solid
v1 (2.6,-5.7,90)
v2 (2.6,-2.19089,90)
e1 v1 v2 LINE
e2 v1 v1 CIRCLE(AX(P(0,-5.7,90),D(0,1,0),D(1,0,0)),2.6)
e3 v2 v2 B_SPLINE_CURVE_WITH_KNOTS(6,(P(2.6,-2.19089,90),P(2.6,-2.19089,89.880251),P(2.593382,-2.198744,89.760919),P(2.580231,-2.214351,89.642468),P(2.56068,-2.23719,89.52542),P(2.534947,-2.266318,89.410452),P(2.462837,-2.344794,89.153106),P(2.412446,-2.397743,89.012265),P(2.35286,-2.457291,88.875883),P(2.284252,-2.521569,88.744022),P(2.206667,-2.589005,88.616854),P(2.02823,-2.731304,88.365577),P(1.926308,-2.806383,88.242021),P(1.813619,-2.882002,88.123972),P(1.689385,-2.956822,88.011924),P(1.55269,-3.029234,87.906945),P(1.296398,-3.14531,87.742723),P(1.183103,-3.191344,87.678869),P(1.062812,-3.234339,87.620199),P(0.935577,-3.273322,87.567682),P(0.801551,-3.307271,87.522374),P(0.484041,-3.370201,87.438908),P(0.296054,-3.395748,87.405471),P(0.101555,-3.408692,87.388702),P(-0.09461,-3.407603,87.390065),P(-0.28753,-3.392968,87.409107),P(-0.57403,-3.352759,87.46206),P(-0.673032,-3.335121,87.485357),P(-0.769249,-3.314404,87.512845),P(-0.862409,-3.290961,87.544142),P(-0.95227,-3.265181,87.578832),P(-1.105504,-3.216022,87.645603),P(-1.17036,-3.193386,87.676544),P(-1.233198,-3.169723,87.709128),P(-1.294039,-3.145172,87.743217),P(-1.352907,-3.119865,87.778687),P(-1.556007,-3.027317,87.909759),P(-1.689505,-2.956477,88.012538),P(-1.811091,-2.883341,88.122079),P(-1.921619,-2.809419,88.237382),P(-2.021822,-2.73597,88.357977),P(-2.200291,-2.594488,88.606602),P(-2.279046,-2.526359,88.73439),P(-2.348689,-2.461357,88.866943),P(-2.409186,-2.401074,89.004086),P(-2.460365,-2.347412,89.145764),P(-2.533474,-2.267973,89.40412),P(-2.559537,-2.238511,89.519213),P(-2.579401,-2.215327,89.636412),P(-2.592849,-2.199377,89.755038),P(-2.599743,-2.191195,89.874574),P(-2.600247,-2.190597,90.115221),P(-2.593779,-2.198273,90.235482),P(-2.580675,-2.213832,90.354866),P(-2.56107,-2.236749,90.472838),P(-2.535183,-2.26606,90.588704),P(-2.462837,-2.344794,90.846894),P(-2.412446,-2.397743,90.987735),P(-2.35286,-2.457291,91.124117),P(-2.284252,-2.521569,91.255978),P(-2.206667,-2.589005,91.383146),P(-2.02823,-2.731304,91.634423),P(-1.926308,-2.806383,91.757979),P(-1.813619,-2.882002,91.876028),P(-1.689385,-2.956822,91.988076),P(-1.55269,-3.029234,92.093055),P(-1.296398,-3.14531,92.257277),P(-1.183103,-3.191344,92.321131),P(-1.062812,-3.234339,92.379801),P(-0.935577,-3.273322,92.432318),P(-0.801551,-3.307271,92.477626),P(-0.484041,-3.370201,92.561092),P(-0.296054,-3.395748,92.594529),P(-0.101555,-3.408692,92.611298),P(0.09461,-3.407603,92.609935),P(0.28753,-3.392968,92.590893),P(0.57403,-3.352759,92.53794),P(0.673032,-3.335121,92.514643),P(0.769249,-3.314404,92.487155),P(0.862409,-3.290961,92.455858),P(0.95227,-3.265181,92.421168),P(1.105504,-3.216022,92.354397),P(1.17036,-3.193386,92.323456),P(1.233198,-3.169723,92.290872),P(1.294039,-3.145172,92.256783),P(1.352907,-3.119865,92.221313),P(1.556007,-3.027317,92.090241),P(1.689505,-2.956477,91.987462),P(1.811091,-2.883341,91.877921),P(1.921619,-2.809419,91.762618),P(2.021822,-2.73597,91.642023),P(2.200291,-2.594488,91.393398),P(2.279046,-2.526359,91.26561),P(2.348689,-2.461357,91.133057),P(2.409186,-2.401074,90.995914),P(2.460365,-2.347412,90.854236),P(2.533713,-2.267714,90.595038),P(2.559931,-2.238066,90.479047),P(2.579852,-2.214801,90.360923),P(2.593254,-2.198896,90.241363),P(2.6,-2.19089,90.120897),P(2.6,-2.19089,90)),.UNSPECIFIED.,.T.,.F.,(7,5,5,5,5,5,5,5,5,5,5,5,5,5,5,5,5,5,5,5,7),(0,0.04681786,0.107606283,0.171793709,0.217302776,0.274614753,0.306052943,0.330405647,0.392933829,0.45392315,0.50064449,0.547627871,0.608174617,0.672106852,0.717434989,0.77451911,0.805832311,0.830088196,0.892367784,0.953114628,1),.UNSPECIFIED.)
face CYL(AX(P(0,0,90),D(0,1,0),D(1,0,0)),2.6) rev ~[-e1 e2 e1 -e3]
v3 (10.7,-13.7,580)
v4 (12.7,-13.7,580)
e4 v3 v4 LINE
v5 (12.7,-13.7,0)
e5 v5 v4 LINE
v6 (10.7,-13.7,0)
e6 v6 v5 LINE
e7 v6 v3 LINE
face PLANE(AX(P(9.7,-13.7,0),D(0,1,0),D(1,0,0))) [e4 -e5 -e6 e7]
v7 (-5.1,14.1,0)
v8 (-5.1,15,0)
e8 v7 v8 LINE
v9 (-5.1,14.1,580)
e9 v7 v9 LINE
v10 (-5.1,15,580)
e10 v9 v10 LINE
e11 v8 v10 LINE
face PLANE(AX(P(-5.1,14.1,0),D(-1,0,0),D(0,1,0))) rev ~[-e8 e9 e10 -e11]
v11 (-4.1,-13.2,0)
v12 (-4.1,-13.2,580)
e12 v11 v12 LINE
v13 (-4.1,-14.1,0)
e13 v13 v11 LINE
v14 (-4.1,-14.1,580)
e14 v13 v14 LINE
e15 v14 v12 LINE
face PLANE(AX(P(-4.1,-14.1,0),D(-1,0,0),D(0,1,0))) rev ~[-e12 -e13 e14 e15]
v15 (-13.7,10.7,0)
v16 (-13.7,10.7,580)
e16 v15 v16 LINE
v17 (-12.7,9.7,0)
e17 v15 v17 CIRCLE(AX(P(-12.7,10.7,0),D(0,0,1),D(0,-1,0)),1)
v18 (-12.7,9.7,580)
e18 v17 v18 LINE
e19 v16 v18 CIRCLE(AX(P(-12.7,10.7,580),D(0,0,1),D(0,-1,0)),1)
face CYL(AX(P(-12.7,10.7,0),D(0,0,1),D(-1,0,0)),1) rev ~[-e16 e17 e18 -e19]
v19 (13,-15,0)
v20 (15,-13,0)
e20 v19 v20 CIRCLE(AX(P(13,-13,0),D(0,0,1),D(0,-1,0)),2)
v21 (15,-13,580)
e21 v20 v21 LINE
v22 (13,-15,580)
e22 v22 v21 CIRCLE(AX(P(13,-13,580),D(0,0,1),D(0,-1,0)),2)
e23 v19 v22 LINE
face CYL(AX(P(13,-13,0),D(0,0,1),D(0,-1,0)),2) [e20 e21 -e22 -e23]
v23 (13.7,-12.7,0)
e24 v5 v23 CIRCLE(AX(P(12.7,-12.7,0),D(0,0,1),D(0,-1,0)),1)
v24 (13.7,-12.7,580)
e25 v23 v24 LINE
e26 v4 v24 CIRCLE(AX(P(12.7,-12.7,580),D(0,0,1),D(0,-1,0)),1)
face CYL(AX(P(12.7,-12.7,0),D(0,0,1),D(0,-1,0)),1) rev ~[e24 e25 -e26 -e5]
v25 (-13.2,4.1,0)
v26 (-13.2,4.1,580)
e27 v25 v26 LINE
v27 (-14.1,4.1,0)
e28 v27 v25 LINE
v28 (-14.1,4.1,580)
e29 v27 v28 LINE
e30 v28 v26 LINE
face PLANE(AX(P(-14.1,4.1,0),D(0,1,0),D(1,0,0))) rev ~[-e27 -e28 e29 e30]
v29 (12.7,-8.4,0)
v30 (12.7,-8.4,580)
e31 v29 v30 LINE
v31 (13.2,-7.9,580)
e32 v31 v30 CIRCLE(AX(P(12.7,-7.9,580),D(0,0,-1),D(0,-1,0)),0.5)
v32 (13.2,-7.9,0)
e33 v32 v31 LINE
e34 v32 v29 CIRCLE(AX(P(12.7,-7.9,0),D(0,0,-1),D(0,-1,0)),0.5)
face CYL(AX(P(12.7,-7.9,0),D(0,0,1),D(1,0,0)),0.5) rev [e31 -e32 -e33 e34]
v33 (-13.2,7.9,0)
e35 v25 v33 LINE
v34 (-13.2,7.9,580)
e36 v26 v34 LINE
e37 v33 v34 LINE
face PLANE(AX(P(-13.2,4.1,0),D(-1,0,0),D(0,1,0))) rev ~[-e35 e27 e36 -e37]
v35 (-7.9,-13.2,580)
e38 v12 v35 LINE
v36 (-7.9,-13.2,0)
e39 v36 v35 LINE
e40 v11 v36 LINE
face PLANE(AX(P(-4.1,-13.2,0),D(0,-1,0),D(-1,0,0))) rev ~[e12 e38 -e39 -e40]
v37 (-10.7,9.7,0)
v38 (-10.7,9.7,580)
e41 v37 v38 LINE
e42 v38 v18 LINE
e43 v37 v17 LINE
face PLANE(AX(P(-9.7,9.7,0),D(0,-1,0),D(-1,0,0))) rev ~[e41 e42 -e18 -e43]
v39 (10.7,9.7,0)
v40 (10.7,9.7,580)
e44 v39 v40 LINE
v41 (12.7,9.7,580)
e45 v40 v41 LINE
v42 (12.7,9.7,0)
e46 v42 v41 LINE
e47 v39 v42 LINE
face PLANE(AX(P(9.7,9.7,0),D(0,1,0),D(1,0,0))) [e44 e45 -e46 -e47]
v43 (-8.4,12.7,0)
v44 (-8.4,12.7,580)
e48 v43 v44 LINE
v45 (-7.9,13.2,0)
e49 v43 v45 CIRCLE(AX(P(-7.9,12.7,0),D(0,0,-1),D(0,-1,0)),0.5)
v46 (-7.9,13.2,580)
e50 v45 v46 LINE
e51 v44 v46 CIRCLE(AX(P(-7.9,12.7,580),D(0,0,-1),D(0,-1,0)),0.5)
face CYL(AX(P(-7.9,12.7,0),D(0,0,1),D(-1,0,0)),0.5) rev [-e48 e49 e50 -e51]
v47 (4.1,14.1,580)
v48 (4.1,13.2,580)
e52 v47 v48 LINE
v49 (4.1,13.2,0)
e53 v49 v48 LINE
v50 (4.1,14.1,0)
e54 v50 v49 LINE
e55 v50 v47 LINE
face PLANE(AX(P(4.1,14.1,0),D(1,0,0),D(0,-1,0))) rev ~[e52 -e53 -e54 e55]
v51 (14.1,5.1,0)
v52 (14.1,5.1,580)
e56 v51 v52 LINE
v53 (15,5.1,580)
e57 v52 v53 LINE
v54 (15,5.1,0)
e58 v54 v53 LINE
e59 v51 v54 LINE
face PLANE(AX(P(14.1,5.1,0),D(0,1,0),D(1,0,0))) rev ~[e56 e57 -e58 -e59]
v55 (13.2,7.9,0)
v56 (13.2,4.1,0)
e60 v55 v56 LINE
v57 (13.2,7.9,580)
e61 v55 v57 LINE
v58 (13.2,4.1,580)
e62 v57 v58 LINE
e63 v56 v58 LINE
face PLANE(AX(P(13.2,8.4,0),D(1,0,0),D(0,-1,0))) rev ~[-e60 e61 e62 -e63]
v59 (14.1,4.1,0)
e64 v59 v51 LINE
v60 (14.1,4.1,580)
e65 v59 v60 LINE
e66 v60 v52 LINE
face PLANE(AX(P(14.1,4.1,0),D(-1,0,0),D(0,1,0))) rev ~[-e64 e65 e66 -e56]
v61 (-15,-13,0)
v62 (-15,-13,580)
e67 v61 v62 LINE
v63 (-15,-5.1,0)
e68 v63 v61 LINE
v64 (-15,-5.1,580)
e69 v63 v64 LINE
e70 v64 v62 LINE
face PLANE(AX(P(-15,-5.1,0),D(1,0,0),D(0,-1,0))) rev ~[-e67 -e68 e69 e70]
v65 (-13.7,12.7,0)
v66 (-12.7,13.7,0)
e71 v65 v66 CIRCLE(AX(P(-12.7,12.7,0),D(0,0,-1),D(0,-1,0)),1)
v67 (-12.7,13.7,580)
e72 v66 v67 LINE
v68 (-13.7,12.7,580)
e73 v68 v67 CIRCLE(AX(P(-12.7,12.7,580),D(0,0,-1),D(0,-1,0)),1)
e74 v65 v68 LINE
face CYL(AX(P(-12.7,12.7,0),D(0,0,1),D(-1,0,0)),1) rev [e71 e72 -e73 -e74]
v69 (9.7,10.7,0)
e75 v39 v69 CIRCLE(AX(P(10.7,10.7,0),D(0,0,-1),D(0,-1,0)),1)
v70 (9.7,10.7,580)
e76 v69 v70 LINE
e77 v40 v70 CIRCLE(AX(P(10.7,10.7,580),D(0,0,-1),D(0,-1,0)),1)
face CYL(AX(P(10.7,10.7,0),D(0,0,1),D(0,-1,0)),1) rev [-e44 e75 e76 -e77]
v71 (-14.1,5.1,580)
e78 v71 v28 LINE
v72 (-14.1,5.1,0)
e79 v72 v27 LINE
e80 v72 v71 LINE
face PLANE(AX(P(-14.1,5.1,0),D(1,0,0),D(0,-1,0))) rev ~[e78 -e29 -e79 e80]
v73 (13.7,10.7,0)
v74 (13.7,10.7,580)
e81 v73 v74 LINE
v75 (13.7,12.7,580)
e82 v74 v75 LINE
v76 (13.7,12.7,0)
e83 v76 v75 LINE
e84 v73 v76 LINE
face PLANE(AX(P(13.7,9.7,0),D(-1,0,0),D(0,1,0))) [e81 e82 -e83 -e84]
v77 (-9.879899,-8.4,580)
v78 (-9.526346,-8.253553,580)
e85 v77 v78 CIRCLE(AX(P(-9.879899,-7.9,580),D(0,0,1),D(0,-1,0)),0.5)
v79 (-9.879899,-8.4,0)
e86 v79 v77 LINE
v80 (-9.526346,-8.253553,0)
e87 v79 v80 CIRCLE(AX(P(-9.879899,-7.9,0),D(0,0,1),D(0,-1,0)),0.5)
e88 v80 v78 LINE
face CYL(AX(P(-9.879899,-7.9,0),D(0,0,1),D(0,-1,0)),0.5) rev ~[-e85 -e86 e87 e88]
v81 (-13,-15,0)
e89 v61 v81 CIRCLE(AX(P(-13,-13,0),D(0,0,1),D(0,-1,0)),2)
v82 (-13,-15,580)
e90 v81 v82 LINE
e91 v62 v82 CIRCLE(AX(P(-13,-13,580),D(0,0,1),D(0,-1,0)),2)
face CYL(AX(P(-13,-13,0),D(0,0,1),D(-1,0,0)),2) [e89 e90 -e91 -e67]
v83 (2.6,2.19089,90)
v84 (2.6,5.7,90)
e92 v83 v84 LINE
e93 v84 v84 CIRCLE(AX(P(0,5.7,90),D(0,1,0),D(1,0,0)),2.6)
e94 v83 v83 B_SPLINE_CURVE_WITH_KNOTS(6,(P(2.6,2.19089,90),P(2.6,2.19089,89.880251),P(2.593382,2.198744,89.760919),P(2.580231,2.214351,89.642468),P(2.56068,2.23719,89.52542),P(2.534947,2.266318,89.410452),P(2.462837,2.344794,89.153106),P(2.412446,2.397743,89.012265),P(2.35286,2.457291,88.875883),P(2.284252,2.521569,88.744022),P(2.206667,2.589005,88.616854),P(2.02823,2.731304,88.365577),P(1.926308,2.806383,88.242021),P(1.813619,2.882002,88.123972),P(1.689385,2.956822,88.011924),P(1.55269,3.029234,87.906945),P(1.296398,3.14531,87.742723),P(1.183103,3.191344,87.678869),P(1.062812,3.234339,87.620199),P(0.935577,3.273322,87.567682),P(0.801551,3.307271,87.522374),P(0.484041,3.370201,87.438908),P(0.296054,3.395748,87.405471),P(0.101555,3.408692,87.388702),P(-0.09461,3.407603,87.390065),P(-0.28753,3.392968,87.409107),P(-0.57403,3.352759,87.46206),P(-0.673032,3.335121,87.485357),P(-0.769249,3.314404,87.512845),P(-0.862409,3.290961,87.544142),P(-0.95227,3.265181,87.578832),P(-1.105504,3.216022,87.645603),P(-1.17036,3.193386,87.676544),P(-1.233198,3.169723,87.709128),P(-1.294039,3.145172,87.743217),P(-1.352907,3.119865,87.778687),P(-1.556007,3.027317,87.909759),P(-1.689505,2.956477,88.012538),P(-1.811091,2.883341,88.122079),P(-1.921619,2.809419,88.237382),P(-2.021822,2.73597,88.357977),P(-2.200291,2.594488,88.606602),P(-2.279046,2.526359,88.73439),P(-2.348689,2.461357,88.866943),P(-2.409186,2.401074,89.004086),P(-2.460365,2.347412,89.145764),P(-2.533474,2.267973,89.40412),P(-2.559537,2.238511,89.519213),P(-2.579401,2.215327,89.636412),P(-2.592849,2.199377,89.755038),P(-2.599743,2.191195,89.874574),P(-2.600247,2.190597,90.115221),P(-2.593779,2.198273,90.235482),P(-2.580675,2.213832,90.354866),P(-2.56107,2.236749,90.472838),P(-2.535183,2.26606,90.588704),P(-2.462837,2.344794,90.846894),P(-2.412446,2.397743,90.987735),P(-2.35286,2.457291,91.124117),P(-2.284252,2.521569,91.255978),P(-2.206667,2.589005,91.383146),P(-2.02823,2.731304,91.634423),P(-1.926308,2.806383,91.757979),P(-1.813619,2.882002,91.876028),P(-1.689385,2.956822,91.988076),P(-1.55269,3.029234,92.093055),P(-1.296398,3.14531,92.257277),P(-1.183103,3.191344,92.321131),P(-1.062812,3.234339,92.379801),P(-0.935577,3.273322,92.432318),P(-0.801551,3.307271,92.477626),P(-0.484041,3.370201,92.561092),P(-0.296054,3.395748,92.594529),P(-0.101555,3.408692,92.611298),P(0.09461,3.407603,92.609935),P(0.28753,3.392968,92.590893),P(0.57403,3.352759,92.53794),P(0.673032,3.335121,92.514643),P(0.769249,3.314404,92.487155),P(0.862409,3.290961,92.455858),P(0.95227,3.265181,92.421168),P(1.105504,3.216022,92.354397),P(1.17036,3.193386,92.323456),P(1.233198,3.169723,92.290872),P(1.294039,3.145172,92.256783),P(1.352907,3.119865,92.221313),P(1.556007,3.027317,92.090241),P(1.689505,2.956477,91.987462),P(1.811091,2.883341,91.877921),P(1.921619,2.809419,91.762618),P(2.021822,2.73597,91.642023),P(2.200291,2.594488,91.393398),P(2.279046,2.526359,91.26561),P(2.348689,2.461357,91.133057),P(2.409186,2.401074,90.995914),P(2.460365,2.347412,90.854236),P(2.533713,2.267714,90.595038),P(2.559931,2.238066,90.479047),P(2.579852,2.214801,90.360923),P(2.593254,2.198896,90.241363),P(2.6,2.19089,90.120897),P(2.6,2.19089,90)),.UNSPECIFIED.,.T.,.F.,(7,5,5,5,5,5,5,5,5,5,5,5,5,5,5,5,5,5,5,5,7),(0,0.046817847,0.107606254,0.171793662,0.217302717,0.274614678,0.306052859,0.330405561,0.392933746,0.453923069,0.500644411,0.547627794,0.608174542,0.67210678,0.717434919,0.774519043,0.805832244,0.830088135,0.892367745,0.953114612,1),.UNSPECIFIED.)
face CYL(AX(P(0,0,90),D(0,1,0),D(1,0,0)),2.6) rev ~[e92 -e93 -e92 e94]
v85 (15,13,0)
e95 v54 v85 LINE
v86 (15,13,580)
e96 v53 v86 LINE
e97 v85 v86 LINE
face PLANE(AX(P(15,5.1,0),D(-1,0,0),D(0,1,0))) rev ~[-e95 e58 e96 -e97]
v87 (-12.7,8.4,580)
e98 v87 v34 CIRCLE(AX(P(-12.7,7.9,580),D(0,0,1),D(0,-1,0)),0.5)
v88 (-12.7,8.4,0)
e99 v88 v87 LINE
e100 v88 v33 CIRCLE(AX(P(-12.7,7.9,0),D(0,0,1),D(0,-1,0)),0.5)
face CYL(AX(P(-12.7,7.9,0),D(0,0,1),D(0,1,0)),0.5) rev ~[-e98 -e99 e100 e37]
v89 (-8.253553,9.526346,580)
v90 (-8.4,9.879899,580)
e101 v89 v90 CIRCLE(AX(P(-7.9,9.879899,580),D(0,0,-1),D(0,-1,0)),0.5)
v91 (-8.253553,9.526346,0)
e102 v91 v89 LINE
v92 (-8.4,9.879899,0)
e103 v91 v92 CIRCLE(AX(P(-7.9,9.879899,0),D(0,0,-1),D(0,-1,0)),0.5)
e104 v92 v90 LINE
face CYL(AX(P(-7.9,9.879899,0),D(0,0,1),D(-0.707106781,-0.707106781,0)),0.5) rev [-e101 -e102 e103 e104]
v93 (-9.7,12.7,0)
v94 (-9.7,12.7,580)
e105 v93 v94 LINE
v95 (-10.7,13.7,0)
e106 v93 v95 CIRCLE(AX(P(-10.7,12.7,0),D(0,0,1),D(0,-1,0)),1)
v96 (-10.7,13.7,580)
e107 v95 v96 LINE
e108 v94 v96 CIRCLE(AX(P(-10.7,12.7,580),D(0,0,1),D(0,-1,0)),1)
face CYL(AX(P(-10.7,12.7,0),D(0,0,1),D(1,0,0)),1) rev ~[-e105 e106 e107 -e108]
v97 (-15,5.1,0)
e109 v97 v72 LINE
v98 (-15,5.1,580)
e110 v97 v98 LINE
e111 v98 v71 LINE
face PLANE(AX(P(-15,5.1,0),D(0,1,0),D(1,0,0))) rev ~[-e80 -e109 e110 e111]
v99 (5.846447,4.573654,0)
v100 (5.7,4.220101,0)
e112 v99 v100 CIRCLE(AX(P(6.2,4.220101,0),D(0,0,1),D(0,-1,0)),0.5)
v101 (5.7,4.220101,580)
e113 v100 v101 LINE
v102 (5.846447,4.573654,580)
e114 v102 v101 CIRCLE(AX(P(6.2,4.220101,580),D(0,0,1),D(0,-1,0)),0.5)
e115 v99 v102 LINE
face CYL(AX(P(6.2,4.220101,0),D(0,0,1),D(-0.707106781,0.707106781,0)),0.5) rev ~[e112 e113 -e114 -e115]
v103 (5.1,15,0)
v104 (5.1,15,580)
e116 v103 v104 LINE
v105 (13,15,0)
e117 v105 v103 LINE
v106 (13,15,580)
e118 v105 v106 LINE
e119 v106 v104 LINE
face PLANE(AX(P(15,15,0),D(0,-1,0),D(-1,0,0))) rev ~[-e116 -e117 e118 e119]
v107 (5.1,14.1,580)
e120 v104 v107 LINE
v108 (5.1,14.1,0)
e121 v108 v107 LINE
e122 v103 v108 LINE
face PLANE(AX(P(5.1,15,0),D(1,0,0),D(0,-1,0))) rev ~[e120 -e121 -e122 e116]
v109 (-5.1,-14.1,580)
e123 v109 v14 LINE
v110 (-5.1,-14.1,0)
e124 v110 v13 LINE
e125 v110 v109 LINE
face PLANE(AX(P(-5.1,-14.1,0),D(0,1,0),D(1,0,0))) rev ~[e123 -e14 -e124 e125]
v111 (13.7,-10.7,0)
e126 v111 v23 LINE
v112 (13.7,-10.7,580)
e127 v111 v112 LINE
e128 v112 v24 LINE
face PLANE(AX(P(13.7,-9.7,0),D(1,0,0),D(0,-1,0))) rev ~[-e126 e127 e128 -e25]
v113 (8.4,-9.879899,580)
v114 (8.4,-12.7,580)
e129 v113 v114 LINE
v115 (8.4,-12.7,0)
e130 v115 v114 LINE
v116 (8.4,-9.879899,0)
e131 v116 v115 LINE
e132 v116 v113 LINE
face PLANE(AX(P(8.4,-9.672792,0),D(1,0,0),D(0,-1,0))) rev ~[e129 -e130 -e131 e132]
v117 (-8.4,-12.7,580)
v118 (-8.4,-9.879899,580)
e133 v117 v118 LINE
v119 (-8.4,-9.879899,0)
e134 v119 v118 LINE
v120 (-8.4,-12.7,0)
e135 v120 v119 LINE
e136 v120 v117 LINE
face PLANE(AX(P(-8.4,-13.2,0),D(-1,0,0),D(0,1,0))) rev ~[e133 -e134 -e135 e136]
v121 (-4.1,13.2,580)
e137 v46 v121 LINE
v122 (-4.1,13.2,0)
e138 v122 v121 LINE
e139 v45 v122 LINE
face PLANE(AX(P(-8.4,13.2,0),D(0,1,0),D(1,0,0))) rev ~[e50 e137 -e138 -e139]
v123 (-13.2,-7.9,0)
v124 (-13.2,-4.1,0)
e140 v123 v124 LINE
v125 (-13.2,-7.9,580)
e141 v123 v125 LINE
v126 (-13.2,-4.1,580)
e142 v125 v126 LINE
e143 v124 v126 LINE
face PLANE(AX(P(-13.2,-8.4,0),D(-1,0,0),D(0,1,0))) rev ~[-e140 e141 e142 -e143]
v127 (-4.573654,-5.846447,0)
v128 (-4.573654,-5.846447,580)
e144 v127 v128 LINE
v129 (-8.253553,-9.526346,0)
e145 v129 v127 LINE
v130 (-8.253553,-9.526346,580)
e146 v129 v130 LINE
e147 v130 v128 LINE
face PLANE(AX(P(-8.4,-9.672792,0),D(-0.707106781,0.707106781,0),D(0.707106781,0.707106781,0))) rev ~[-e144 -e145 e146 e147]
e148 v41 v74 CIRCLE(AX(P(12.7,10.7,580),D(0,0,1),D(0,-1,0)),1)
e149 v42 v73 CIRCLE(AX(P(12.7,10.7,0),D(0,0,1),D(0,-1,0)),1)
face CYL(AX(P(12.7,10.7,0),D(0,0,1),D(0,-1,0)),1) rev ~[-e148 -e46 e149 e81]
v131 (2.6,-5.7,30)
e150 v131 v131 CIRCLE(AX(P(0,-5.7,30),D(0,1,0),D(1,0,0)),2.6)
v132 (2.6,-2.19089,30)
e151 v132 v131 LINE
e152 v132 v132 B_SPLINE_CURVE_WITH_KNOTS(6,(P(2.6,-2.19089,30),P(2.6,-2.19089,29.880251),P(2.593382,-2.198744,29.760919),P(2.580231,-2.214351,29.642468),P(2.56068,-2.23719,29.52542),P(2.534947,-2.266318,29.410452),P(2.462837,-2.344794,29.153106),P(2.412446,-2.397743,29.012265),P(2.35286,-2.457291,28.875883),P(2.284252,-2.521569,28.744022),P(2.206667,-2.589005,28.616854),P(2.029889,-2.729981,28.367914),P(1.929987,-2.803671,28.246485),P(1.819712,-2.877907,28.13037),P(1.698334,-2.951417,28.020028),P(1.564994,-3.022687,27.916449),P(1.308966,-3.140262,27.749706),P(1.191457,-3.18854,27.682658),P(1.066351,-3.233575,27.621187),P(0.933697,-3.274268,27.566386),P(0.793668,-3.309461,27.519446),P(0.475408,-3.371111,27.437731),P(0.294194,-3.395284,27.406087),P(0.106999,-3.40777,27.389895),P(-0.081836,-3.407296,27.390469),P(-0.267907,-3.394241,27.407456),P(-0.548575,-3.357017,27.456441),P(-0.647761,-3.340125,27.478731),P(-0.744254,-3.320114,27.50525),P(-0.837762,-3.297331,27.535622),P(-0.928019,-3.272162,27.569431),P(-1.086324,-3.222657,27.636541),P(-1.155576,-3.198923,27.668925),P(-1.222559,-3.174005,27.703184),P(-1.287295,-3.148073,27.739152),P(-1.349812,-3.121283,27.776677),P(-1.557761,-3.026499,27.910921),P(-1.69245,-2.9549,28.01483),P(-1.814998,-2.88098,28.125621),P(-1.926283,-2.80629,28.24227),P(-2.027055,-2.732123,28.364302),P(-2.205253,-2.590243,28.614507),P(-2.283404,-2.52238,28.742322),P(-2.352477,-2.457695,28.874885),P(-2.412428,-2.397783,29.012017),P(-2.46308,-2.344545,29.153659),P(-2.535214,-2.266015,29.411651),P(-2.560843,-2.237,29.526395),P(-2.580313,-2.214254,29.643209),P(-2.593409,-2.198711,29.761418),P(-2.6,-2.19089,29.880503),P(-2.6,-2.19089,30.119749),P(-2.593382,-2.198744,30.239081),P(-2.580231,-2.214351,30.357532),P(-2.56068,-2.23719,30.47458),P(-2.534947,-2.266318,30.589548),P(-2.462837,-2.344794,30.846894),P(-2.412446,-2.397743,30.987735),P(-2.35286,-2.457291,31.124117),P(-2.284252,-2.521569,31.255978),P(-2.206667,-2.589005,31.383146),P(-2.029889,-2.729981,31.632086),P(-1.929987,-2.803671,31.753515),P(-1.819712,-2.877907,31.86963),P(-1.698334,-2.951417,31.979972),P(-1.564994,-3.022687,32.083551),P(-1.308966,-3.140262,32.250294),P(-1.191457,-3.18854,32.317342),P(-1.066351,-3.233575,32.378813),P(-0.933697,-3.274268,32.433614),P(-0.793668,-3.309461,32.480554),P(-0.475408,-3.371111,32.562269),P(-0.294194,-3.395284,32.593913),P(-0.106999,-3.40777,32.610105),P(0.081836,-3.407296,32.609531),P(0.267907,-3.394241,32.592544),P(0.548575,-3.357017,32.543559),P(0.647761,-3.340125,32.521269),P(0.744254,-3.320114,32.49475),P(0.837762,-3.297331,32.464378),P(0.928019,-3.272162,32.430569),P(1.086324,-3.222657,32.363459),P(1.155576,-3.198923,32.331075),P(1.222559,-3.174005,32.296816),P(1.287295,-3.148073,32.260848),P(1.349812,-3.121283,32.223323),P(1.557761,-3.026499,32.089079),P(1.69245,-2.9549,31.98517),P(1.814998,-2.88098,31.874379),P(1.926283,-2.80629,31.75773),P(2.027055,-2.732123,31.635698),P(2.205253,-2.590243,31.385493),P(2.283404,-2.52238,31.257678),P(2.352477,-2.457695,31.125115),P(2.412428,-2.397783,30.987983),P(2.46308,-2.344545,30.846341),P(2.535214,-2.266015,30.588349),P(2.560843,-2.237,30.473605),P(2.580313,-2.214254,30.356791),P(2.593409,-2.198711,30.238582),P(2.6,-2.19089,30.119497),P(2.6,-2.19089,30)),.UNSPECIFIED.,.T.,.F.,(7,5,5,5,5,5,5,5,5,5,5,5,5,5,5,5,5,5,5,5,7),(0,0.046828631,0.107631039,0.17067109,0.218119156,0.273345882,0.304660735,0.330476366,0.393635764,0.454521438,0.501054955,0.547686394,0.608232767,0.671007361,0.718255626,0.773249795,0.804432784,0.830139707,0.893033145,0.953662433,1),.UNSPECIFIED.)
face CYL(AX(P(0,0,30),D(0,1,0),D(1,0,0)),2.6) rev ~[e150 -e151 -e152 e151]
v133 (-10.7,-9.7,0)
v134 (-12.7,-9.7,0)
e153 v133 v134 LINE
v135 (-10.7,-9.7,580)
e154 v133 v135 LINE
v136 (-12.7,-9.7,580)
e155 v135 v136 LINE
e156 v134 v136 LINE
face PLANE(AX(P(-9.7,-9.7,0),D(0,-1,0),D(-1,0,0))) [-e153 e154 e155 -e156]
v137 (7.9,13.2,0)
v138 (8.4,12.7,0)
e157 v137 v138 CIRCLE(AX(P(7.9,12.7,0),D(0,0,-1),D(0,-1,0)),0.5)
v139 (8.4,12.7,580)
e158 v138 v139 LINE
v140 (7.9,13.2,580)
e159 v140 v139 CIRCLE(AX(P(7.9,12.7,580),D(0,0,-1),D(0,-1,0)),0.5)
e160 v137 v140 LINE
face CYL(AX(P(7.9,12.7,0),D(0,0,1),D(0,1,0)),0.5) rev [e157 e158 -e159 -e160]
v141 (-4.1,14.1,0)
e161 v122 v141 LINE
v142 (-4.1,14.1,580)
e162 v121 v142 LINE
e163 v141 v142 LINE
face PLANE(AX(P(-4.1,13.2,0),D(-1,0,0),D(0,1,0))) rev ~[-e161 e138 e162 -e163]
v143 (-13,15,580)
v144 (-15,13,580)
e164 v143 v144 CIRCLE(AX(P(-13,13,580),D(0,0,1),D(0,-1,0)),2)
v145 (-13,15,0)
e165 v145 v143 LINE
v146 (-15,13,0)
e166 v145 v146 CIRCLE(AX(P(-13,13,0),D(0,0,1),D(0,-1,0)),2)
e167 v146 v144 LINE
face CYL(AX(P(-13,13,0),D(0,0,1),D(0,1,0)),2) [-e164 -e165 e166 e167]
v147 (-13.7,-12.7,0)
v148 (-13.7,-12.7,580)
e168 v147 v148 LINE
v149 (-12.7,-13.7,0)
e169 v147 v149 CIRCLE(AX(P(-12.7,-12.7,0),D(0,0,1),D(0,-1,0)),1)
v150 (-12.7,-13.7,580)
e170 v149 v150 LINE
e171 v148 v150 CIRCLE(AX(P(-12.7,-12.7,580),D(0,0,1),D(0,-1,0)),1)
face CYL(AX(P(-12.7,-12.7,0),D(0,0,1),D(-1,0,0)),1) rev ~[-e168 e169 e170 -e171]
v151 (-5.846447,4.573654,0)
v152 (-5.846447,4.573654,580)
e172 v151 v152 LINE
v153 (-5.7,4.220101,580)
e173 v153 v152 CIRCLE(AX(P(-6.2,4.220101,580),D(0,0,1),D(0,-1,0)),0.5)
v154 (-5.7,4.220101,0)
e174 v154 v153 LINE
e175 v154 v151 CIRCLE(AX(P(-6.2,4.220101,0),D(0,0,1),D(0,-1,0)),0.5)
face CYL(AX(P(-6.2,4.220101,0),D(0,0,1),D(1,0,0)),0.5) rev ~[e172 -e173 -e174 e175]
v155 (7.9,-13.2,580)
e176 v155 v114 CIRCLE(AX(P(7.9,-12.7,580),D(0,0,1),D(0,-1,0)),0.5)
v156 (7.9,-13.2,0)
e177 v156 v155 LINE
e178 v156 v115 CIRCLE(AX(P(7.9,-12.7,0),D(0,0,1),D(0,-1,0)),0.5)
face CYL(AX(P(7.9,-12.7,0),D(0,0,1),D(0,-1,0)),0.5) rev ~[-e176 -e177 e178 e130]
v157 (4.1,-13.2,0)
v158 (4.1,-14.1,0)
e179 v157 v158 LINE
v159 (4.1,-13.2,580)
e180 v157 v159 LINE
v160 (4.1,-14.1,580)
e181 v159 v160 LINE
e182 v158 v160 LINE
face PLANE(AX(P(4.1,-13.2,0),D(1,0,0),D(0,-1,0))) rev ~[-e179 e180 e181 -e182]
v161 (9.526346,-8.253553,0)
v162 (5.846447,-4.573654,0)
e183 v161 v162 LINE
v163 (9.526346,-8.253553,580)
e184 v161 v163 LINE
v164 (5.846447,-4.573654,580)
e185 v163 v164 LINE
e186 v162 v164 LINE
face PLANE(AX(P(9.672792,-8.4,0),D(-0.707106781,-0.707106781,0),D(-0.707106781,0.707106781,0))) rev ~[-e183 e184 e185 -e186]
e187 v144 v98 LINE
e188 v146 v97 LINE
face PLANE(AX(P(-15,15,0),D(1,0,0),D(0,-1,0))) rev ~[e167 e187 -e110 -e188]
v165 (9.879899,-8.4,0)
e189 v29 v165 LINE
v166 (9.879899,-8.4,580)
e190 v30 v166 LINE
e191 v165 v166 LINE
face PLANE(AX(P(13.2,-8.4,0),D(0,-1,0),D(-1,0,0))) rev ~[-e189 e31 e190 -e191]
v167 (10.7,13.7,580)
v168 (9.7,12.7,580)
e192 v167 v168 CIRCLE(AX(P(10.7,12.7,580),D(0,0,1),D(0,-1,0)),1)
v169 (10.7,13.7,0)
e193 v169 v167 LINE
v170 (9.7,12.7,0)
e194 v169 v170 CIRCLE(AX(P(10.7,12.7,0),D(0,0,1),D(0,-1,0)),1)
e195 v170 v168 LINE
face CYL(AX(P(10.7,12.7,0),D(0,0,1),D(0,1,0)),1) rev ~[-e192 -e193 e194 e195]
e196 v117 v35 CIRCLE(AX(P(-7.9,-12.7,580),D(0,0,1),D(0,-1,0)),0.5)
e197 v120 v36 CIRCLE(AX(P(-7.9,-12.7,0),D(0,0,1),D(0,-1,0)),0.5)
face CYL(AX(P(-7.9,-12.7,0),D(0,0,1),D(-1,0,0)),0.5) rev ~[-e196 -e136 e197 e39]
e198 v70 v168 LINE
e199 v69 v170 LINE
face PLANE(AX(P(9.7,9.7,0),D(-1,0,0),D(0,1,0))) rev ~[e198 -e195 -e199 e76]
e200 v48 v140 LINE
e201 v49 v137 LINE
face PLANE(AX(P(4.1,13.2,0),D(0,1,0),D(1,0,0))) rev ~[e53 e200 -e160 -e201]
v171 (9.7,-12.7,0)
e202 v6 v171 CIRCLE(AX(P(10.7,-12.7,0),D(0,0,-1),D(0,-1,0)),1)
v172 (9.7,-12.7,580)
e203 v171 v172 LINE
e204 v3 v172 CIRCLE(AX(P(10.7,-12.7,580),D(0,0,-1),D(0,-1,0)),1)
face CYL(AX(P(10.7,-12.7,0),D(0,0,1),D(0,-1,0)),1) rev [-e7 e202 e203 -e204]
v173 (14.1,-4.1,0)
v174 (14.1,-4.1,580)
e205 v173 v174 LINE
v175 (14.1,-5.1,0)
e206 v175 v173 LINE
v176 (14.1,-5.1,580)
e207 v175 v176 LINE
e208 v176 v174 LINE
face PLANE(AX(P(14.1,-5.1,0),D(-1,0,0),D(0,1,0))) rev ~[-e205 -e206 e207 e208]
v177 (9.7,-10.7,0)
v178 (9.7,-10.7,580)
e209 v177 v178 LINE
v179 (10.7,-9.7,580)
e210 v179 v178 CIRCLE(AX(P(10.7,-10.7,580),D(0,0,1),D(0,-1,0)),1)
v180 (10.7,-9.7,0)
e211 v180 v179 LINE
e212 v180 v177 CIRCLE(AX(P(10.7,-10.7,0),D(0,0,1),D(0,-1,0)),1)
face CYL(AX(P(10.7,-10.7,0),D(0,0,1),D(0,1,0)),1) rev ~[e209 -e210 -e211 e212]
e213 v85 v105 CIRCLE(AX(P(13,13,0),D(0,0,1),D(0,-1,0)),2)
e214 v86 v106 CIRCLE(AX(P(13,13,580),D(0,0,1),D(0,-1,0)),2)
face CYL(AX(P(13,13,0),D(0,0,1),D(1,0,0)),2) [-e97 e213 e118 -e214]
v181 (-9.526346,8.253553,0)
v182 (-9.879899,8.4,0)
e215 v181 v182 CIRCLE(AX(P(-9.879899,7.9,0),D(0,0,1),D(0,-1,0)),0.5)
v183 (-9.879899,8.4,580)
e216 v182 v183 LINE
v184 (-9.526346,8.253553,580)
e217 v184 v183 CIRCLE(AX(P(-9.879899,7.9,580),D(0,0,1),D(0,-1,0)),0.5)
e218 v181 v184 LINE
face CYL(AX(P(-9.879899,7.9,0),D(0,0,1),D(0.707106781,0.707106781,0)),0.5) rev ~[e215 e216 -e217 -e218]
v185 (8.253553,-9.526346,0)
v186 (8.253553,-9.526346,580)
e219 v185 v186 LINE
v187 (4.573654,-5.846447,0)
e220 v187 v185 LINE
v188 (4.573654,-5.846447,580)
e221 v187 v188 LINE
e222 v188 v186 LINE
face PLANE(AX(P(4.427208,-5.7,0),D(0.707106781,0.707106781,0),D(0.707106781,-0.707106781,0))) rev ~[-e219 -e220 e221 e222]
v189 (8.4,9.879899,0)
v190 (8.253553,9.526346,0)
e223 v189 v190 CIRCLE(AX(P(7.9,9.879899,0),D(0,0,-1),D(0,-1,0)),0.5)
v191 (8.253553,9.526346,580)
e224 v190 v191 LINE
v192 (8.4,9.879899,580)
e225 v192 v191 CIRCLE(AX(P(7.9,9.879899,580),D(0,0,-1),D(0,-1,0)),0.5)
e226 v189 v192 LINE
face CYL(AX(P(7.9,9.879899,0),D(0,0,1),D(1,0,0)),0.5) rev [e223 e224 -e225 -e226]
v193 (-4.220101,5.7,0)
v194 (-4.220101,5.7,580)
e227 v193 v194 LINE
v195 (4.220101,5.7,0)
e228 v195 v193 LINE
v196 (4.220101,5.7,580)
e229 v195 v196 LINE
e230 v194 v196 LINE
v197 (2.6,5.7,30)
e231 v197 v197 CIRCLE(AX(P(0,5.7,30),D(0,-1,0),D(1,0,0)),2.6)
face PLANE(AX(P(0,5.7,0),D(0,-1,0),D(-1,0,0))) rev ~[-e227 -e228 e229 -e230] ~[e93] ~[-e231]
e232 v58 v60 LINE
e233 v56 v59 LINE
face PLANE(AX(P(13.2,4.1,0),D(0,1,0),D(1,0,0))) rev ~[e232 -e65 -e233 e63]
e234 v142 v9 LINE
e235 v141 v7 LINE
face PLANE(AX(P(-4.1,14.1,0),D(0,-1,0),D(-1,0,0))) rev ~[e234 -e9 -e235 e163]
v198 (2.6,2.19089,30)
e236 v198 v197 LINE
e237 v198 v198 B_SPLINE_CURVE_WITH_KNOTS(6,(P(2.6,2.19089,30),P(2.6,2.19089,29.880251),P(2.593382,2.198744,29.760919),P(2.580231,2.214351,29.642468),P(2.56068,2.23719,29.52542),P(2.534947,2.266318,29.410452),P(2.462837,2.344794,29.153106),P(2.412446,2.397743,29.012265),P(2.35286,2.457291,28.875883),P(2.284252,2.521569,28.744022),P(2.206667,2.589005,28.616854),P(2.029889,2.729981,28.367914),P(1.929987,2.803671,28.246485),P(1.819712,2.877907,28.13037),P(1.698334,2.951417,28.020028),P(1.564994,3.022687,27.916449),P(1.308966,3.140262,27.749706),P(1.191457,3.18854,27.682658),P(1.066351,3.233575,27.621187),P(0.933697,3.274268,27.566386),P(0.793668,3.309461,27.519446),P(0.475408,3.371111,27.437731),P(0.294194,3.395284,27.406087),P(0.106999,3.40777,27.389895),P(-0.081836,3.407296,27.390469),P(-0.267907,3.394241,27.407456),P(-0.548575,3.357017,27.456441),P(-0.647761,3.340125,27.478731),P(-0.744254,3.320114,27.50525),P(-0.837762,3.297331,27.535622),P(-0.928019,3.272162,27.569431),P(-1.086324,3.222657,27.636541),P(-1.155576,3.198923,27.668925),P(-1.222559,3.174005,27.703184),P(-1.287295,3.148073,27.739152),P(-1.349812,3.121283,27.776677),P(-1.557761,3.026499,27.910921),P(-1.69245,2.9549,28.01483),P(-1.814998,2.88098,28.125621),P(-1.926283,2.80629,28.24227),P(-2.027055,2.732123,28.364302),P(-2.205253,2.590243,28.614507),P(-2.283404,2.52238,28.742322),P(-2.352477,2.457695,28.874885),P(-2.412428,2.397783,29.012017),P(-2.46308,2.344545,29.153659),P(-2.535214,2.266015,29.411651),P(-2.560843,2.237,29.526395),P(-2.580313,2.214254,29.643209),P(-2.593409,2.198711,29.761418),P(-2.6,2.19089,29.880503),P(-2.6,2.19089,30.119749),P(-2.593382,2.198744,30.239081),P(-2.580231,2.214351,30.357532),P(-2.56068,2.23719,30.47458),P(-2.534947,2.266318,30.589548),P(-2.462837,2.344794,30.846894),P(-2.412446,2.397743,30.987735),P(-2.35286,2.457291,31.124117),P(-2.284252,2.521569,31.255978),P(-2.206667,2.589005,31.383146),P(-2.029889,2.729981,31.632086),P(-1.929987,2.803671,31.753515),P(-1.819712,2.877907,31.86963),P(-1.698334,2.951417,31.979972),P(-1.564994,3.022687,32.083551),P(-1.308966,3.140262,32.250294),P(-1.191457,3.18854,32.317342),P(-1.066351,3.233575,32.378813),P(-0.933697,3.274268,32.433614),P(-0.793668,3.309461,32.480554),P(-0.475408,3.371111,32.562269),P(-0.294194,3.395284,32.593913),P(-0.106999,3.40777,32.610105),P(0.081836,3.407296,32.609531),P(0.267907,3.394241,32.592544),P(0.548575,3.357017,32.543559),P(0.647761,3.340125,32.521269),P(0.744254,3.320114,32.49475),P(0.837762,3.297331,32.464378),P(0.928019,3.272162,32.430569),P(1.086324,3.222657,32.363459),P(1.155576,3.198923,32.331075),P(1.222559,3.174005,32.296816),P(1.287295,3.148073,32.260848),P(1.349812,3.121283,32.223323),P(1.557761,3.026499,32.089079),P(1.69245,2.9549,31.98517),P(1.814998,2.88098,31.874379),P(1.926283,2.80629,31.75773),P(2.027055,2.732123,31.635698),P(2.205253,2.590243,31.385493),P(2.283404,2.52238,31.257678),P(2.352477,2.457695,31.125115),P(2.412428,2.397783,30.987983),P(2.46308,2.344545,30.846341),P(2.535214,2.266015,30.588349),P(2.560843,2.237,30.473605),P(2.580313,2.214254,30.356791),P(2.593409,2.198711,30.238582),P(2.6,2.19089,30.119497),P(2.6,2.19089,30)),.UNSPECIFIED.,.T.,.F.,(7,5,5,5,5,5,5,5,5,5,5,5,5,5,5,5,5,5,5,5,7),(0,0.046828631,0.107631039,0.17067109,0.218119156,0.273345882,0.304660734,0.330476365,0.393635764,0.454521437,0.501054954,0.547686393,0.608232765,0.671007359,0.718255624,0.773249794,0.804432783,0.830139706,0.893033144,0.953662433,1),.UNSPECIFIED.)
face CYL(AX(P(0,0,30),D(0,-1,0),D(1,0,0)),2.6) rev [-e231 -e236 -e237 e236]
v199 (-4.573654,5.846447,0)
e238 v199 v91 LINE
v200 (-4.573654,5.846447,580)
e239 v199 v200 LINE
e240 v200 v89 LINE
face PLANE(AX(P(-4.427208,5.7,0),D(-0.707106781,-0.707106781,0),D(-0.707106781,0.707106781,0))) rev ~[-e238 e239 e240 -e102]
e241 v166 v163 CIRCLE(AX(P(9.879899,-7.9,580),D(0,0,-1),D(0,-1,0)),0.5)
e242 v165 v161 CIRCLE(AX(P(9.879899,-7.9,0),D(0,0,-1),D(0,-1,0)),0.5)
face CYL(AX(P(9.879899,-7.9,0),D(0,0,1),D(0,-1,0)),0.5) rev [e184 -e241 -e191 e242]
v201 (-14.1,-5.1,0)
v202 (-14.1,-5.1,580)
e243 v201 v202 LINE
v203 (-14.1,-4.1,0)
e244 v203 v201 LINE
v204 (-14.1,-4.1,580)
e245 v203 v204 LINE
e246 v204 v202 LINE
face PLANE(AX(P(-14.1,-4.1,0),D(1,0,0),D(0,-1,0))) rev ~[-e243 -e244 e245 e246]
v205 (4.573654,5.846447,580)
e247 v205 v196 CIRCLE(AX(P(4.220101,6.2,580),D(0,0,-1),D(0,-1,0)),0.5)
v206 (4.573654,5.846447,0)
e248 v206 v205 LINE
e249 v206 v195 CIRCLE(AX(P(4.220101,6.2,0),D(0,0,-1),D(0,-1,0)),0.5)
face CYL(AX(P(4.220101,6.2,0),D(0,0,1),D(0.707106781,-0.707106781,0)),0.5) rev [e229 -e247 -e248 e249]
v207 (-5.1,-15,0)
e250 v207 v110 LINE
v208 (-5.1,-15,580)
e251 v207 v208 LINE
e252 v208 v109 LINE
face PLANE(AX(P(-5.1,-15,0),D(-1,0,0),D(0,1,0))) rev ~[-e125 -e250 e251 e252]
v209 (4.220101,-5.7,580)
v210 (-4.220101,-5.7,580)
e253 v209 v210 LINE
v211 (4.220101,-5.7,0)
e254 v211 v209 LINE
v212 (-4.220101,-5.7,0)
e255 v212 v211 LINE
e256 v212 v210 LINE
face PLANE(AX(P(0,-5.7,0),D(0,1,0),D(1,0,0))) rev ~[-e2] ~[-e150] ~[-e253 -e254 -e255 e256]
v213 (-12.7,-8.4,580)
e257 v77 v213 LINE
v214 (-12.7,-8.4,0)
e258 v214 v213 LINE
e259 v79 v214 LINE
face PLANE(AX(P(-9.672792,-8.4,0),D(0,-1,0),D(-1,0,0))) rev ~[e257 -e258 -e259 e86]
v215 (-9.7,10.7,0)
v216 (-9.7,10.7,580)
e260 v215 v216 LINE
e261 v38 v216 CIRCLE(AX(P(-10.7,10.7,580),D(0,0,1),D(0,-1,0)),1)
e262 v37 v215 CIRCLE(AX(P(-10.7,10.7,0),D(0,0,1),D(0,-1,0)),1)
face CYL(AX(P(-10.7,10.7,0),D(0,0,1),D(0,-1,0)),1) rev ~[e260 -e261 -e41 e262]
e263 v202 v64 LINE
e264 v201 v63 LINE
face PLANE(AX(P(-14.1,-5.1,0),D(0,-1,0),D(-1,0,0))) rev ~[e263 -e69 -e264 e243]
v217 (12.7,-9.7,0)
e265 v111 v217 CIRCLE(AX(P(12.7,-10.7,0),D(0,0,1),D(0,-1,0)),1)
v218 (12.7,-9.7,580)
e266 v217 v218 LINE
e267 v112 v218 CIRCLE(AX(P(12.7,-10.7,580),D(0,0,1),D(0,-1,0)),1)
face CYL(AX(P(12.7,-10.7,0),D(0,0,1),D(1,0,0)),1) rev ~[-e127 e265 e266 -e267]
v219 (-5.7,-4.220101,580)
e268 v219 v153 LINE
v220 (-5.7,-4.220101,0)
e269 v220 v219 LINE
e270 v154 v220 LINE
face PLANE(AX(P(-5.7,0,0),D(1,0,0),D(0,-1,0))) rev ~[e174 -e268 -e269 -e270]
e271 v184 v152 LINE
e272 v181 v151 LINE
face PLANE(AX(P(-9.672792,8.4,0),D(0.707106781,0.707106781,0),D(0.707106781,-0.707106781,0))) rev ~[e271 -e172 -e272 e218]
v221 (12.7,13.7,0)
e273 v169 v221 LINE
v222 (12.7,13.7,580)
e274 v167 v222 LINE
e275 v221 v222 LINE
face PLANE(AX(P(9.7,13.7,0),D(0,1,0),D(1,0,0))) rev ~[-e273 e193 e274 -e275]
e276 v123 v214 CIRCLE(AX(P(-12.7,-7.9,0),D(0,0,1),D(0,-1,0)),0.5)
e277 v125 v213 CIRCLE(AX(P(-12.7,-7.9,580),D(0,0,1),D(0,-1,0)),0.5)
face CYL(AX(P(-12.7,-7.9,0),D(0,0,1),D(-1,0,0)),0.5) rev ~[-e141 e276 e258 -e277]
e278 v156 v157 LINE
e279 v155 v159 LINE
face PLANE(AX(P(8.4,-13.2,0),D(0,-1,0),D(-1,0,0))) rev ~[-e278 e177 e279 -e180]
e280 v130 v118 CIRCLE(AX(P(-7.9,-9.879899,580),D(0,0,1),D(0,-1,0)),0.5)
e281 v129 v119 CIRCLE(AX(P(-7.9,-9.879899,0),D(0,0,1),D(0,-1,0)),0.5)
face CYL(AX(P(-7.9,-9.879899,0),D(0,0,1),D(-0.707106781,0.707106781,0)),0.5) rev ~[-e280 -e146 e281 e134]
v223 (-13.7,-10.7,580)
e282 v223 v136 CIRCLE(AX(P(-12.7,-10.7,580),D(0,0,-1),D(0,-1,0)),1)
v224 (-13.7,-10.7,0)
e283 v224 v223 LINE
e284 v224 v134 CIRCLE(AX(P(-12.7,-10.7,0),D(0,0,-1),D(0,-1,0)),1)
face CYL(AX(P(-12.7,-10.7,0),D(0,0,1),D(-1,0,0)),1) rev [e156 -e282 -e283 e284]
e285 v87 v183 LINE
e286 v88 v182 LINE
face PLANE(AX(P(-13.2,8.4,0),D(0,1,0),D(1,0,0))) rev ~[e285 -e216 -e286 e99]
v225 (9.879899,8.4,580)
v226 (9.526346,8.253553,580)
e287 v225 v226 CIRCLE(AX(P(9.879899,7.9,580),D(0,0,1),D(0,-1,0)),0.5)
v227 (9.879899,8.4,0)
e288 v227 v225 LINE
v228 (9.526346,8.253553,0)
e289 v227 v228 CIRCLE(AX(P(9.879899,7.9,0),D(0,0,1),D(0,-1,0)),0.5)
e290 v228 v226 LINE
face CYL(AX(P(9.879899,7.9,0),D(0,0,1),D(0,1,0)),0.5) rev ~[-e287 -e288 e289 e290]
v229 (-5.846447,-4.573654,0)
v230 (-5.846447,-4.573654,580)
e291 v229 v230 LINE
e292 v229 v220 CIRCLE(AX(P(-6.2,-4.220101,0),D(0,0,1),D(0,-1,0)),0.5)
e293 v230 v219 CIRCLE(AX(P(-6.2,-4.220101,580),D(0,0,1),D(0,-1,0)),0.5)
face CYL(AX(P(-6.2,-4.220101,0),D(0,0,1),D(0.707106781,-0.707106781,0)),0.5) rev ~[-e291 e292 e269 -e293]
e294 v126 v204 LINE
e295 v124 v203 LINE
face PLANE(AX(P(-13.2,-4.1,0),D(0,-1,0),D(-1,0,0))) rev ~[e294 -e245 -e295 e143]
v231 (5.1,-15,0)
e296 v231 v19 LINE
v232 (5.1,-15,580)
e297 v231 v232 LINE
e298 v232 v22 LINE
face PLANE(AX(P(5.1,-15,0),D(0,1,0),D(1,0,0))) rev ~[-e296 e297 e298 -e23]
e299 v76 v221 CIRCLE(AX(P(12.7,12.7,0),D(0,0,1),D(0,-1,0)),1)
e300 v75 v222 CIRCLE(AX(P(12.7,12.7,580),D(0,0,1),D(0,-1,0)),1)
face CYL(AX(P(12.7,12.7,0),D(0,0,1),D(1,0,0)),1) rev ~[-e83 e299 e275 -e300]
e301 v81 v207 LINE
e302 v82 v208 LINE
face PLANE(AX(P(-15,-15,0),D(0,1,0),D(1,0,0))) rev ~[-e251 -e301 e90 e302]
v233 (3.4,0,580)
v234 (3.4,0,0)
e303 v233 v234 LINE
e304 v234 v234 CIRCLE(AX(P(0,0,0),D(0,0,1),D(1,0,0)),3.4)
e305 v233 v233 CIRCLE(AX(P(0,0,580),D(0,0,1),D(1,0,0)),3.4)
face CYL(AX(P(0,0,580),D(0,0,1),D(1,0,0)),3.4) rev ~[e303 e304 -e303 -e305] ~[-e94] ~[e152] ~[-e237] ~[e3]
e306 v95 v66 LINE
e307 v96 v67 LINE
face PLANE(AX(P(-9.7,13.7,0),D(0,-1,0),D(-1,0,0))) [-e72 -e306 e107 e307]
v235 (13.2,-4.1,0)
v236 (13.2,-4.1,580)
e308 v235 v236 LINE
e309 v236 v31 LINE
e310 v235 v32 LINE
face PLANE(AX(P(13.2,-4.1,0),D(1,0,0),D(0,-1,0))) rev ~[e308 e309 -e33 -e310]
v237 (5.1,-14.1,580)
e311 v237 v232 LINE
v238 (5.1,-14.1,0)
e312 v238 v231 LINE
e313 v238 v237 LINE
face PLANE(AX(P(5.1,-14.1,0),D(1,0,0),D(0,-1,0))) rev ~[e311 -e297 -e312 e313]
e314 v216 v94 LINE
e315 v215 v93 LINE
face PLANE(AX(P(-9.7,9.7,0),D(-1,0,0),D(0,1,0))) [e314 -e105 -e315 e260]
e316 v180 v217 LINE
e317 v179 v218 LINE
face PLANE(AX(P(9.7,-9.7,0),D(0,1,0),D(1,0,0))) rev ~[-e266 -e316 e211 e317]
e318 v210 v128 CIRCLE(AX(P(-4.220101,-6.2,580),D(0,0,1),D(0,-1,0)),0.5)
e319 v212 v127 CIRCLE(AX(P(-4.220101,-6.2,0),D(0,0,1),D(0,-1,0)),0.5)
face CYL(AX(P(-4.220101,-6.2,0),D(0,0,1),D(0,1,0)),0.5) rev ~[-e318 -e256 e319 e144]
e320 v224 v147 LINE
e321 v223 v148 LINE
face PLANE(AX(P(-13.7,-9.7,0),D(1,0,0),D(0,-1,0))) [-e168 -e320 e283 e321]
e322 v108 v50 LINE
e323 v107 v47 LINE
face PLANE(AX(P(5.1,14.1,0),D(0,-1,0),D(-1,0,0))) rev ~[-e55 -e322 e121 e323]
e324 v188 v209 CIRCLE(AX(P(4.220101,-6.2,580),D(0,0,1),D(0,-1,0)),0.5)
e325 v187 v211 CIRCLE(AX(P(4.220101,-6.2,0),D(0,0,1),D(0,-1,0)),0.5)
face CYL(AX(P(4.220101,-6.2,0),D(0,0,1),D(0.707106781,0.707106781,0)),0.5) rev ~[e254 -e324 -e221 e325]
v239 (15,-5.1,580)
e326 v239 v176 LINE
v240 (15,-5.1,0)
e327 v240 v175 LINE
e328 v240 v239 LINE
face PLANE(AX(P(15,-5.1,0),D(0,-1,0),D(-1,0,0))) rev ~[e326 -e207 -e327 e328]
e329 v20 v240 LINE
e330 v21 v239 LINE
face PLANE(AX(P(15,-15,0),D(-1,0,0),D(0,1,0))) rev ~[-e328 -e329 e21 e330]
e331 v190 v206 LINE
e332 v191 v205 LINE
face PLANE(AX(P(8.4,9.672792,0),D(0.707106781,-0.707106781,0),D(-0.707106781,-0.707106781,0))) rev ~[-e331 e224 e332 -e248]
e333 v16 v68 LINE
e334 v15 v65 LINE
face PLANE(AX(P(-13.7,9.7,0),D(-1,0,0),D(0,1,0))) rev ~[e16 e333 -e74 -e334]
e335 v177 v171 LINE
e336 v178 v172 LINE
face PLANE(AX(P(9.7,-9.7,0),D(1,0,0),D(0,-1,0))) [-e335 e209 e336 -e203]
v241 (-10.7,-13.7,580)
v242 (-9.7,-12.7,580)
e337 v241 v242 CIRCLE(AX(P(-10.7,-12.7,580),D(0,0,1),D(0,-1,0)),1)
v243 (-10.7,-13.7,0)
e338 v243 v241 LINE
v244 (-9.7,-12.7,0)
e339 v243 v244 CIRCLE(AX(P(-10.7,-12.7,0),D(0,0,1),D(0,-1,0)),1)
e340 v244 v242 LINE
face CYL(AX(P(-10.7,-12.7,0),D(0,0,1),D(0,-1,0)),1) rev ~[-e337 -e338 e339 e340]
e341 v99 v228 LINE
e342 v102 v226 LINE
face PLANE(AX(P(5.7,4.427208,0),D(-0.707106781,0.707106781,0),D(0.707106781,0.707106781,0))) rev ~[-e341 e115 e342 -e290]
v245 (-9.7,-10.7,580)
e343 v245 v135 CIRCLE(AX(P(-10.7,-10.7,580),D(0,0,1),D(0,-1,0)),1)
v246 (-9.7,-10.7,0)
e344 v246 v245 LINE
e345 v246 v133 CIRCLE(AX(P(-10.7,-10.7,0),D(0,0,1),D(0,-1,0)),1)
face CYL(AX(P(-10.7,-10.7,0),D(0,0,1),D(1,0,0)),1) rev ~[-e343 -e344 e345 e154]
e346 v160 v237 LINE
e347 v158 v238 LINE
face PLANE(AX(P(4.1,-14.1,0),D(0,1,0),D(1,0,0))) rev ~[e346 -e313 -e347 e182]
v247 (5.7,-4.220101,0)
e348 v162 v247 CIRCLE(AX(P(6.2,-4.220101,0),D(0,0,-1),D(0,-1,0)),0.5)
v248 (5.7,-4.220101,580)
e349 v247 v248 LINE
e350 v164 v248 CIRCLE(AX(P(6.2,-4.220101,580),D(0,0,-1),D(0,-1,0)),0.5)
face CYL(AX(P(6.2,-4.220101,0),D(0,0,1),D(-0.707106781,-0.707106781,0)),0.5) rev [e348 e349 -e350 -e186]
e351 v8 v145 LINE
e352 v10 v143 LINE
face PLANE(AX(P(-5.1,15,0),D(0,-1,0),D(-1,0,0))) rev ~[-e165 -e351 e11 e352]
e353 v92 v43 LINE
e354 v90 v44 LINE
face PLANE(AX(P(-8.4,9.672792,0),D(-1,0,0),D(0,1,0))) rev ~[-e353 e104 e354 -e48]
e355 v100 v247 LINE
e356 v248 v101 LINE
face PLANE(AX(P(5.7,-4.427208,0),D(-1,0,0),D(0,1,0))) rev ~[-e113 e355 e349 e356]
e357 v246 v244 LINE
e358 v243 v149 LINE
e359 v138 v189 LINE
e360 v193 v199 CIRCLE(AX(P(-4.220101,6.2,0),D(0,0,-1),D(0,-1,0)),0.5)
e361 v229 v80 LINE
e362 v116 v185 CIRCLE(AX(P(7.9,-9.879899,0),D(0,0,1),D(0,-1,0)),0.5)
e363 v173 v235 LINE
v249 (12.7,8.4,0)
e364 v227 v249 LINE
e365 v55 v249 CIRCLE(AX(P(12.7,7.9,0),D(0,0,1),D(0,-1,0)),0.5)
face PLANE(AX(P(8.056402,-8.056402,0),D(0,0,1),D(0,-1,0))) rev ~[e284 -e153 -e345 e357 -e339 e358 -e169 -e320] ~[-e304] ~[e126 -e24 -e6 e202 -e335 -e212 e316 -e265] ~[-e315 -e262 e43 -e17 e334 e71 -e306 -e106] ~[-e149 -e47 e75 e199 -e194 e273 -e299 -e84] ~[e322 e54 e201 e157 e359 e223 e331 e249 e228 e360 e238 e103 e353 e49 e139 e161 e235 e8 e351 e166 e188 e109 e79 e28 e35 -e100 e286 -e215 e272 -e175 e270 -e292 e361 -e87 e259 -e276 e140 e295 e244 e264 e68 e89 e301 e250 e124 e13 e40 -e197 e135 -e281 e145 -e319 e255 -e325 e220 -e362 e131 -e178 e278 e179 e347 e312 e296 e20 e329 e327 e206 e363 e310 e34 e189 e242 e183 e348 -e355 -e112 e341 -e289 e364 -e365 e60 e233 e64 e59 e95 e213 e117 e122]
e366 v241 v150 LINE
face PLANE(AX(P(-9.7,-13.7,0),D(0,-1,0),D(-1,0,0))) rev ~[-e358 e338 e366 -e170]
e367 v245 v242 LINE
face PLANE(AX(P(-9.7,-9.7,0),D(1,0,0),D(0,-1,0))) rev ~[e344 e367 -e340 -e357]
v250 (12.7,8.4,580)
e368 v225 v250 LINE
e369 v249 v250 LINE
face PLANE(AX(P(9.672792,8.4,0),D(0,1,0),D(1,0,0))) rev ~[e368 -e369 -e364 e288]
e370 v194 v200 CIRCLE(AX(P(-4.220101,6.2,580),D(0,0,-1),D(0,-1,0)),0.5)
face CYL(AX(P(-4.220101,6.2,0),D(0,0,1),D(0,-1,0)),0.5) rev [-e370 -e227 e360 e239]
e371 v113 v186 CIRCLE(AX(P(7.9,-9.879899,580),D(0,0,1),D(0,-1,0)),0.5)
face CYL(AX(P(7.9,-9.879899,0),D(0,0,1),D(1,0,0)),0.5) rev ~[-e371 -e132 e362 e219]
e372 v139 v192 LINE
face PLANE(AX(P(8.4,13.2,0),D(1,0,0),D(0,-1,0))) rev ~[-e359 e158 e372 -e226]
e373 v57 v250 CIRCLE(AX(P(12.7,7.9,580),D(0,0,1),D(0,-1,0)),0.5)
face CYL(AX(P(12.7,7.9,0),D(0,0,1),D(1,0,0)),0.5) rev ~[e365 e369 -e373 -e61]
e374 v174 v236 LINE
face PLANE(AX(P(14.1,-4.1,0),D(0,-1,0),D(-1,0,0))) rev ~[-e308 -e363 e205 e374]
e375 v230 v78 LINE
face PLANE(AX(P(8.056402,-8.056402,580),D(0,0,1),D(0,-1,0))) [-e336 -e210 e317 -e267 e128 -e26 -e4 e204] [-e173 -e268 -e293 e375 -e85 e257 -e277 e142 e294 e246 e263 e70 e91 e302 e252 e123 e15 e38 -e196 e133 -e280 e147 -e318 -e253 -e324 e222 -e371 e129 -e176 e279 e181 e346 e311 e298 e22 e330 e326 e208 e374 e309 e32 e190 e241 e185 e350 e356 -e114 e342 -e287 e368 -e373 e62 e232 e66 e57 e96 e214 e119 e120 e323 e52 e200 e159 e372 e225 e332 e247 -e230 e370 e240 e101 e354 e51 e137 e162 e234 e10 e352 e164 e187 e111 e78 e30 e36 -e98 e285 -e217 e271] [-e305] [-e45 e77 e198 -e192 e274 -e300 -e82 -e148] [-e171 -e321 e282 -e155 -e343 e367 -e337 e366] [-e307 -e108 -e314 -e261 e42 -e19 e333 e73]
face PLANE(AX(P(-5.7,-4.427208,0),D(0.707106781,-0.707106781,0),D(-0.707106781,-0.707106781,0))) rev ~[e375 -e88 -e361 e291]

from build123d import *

# Parameters (mm, degrees)
SKETCH_1_W                       = 4
SKETCH_1_H                       = 4
EXTRUDE_1_DEPTH                  = 580
FILLET_1_R                       = 1
FILLET_2_R                       = 2
FILLET_3_R                       = 0.5
PATTERN_CIRCULAR_1_COUNT         = 4
FILLET_1_OF_PATTERN_CIRCULAR_1_R = 1
FILLET_2_OF_PATTERN_CIRCULAR_1_R = 2
FILLET_3_OF_PATTERN_CIRCULAR_1_R = 0.5
SKETCH_2_R                       = 3.4
CUT_EXTRUDE_1_DEPTH              = 581
SKETCH_3_R                       = 2.6
CUT_EXTRUDE_2_DEPTH              = 10


with BuildPart() as part:
    # 草图1 → 凸台-拉伸1 (new body)
    with BuildSketch(Plane.XY):
        Polygon((5.7, 0), (5.7, 4.427207794), (9.672792206, 8.4), (13.2, 8.4), (13.2, 4.1), (14.1, 4.1), (14.1, 5.1), (15, 5.1), (15, 15), (5.1, 15), (5.1, 14.1), (4.1, 14.1), (4.1, 13.2), (8.4, 13.2), (8.4, 9.672792206), (4.427207794, 5.7), (0, 5.7), (0, 0), align=None)
        with Locations((11.7, 11.7)):
            Rectangle(SKETCH_1_W, SKETCH_1_H, mode=Mode.SUBTRACT)
    extrude_1 = extrude(amount=EXTRUDE_1_DEPTH)

    # 圆角1
    fillet_1_edges = [part.edges().sort_by_distance(p)[0] for p in [
        (13.7, 9.7, 290),
        (13.7, 13.7, 290),
        (9.7, 13.7, 290),
        (9.7, 9.7, 290),
    ]]
    fillet(fillet_1_edges, radius=FILLET_1_R)

    # 圆角2
    fillet_2_edges = [part.edges().sort_by_distance(p)[0] for p in [
        (15, 15, 290),
    ]]
    fillet(fillet_2_edges, radius=FILLET_2_R)

    # 圆角3
    fillet_3_edges = [part.edges().sort_by_distance(p)[0] for p in [
        (4.427207794, 5.7, 290),
        (8.4, 9.672792206, 290),
        (8.4, 13.2, 290),
        (13.2, 8.4, 290),
        (9.672792206, 8.4, 290),
        (5.7, 4.427207794, 290),
    ]]
    fillet(fillet_3_edges, radius=FILLET_3_R)

    # 阵列(圆周)1: 凸台-拉伸1 ×4 about axis
    pattern_circular_1_axis = Axis((0, 0, 0), (0, 0, 1))
    for i in range(1, PATTERN_CIRCULAR_1_COUNT):
        add(extrude_1.rotate(pattern_circular_1_axis, i * 360 / PATTERN_CIRCULAR_1_COUNT))

    # 圆角1 of 阵列(圆周)1
    fillet_1_of_pattern_circular_1_edges = [part.edges().sort_by_distance(p)[0] for p in [
        (-9.7, 13.7, 290),
        (-13.7, 13.7, 290),
        (-13.7, 9.7, 290),
        (-9.7, 9.7, 290),
        (-13.7, -9.7, 290),
        (-13.7, -13.7, 290),
        (-9.7, -13.7, 290),
        (-9.7, -9.7, 290),
        (9.7, -13.7, 290),
        (13.7, -13.7, 290),
        (13.7, -9.7, 290),
        (9.7, -9.7, 290),
    ]]
    fillet(fillet_1_of_pattern_circular_1_edges, radius=FILLET_1_OF_PATTERN_CIRCULAR_1_R)

    # 圆角2 of 阵列(圆周)1
    fillet_2_of_pattern_circular_1_edges = [part.edges().sort_by_distance(p)[0] for p in [
        (-15, 15, 290),
        (-15, -15, 290),
        (15, -15, 290),
    ]]
    fillet(fillet_2_of_pattern_circular_1_edges, radius=FILLET_2_OF_PATTERN_CIRCULAR_1_R)

    # 圆角3 of 阵列(圆周)1
    fillet_3_of_pattern_circular_1_edges = [part.edges().sort_by_distance(p)[0] for p in [
        (-5.7, 4.427207794, 290),
        (-9.672792206, 8.4, 290),
        (-13.2, 8.4, 290),
        (-8.4, 13.2, 290),
        (-8.4, 9.672792206, 290),
        (-4.427207794, 5.7, 290),
        (-4.427207794, -5.7, 290),
        (-8.4, -9.672792206, 290),
        (-8.4, -13.2, 290),
        (-13.2, -8.4, 290),
        (-9.672792206, -8.4, 290),
        (-5.7, -4.427207794, 290),
        (5.7, -4.427207794, 290),
        (9.672792206, -8.4, 290),
        (13.2, -8.4, 290),
        (8.4, -13.2, 290),
        (8.4, -9.672792206, 290),
        (4.427207794, -5.7, 290),
    ]]
    fillet(fillet_3_of_pattern_circular_1_edges, radius=FILLET_3_OF_PATTERN_CIRCULAR_1_R)

    # 草图2 → 切除-拉伸1 (cut, through all)
    with BuildSketch(Plane.XY.offset(580)):
        Circle(SKETCH_2_R)
    extrude(amount=-CUT_EXTRUDE_1_DEPTH, mode=Mode.SUBTRACT)

    # 草图3 → 切除-拉伸2 (cut, symmetric)
    with BuildSketch(Plane(origin=(0, 0, 0), x_dir=(1, 0, 0), z_dir=(0, 1, 0))):
        with Locations((0, -30)):
            Circle(SKETCH_3_R)
        with Locations((0, -90)):
            Circle(SKETCH_3_R)
    extrude(amount=CUT_EXTRUDE_2_DEPTH, both=True, mode=Mode.SUBTRACT)


solid = part.part
